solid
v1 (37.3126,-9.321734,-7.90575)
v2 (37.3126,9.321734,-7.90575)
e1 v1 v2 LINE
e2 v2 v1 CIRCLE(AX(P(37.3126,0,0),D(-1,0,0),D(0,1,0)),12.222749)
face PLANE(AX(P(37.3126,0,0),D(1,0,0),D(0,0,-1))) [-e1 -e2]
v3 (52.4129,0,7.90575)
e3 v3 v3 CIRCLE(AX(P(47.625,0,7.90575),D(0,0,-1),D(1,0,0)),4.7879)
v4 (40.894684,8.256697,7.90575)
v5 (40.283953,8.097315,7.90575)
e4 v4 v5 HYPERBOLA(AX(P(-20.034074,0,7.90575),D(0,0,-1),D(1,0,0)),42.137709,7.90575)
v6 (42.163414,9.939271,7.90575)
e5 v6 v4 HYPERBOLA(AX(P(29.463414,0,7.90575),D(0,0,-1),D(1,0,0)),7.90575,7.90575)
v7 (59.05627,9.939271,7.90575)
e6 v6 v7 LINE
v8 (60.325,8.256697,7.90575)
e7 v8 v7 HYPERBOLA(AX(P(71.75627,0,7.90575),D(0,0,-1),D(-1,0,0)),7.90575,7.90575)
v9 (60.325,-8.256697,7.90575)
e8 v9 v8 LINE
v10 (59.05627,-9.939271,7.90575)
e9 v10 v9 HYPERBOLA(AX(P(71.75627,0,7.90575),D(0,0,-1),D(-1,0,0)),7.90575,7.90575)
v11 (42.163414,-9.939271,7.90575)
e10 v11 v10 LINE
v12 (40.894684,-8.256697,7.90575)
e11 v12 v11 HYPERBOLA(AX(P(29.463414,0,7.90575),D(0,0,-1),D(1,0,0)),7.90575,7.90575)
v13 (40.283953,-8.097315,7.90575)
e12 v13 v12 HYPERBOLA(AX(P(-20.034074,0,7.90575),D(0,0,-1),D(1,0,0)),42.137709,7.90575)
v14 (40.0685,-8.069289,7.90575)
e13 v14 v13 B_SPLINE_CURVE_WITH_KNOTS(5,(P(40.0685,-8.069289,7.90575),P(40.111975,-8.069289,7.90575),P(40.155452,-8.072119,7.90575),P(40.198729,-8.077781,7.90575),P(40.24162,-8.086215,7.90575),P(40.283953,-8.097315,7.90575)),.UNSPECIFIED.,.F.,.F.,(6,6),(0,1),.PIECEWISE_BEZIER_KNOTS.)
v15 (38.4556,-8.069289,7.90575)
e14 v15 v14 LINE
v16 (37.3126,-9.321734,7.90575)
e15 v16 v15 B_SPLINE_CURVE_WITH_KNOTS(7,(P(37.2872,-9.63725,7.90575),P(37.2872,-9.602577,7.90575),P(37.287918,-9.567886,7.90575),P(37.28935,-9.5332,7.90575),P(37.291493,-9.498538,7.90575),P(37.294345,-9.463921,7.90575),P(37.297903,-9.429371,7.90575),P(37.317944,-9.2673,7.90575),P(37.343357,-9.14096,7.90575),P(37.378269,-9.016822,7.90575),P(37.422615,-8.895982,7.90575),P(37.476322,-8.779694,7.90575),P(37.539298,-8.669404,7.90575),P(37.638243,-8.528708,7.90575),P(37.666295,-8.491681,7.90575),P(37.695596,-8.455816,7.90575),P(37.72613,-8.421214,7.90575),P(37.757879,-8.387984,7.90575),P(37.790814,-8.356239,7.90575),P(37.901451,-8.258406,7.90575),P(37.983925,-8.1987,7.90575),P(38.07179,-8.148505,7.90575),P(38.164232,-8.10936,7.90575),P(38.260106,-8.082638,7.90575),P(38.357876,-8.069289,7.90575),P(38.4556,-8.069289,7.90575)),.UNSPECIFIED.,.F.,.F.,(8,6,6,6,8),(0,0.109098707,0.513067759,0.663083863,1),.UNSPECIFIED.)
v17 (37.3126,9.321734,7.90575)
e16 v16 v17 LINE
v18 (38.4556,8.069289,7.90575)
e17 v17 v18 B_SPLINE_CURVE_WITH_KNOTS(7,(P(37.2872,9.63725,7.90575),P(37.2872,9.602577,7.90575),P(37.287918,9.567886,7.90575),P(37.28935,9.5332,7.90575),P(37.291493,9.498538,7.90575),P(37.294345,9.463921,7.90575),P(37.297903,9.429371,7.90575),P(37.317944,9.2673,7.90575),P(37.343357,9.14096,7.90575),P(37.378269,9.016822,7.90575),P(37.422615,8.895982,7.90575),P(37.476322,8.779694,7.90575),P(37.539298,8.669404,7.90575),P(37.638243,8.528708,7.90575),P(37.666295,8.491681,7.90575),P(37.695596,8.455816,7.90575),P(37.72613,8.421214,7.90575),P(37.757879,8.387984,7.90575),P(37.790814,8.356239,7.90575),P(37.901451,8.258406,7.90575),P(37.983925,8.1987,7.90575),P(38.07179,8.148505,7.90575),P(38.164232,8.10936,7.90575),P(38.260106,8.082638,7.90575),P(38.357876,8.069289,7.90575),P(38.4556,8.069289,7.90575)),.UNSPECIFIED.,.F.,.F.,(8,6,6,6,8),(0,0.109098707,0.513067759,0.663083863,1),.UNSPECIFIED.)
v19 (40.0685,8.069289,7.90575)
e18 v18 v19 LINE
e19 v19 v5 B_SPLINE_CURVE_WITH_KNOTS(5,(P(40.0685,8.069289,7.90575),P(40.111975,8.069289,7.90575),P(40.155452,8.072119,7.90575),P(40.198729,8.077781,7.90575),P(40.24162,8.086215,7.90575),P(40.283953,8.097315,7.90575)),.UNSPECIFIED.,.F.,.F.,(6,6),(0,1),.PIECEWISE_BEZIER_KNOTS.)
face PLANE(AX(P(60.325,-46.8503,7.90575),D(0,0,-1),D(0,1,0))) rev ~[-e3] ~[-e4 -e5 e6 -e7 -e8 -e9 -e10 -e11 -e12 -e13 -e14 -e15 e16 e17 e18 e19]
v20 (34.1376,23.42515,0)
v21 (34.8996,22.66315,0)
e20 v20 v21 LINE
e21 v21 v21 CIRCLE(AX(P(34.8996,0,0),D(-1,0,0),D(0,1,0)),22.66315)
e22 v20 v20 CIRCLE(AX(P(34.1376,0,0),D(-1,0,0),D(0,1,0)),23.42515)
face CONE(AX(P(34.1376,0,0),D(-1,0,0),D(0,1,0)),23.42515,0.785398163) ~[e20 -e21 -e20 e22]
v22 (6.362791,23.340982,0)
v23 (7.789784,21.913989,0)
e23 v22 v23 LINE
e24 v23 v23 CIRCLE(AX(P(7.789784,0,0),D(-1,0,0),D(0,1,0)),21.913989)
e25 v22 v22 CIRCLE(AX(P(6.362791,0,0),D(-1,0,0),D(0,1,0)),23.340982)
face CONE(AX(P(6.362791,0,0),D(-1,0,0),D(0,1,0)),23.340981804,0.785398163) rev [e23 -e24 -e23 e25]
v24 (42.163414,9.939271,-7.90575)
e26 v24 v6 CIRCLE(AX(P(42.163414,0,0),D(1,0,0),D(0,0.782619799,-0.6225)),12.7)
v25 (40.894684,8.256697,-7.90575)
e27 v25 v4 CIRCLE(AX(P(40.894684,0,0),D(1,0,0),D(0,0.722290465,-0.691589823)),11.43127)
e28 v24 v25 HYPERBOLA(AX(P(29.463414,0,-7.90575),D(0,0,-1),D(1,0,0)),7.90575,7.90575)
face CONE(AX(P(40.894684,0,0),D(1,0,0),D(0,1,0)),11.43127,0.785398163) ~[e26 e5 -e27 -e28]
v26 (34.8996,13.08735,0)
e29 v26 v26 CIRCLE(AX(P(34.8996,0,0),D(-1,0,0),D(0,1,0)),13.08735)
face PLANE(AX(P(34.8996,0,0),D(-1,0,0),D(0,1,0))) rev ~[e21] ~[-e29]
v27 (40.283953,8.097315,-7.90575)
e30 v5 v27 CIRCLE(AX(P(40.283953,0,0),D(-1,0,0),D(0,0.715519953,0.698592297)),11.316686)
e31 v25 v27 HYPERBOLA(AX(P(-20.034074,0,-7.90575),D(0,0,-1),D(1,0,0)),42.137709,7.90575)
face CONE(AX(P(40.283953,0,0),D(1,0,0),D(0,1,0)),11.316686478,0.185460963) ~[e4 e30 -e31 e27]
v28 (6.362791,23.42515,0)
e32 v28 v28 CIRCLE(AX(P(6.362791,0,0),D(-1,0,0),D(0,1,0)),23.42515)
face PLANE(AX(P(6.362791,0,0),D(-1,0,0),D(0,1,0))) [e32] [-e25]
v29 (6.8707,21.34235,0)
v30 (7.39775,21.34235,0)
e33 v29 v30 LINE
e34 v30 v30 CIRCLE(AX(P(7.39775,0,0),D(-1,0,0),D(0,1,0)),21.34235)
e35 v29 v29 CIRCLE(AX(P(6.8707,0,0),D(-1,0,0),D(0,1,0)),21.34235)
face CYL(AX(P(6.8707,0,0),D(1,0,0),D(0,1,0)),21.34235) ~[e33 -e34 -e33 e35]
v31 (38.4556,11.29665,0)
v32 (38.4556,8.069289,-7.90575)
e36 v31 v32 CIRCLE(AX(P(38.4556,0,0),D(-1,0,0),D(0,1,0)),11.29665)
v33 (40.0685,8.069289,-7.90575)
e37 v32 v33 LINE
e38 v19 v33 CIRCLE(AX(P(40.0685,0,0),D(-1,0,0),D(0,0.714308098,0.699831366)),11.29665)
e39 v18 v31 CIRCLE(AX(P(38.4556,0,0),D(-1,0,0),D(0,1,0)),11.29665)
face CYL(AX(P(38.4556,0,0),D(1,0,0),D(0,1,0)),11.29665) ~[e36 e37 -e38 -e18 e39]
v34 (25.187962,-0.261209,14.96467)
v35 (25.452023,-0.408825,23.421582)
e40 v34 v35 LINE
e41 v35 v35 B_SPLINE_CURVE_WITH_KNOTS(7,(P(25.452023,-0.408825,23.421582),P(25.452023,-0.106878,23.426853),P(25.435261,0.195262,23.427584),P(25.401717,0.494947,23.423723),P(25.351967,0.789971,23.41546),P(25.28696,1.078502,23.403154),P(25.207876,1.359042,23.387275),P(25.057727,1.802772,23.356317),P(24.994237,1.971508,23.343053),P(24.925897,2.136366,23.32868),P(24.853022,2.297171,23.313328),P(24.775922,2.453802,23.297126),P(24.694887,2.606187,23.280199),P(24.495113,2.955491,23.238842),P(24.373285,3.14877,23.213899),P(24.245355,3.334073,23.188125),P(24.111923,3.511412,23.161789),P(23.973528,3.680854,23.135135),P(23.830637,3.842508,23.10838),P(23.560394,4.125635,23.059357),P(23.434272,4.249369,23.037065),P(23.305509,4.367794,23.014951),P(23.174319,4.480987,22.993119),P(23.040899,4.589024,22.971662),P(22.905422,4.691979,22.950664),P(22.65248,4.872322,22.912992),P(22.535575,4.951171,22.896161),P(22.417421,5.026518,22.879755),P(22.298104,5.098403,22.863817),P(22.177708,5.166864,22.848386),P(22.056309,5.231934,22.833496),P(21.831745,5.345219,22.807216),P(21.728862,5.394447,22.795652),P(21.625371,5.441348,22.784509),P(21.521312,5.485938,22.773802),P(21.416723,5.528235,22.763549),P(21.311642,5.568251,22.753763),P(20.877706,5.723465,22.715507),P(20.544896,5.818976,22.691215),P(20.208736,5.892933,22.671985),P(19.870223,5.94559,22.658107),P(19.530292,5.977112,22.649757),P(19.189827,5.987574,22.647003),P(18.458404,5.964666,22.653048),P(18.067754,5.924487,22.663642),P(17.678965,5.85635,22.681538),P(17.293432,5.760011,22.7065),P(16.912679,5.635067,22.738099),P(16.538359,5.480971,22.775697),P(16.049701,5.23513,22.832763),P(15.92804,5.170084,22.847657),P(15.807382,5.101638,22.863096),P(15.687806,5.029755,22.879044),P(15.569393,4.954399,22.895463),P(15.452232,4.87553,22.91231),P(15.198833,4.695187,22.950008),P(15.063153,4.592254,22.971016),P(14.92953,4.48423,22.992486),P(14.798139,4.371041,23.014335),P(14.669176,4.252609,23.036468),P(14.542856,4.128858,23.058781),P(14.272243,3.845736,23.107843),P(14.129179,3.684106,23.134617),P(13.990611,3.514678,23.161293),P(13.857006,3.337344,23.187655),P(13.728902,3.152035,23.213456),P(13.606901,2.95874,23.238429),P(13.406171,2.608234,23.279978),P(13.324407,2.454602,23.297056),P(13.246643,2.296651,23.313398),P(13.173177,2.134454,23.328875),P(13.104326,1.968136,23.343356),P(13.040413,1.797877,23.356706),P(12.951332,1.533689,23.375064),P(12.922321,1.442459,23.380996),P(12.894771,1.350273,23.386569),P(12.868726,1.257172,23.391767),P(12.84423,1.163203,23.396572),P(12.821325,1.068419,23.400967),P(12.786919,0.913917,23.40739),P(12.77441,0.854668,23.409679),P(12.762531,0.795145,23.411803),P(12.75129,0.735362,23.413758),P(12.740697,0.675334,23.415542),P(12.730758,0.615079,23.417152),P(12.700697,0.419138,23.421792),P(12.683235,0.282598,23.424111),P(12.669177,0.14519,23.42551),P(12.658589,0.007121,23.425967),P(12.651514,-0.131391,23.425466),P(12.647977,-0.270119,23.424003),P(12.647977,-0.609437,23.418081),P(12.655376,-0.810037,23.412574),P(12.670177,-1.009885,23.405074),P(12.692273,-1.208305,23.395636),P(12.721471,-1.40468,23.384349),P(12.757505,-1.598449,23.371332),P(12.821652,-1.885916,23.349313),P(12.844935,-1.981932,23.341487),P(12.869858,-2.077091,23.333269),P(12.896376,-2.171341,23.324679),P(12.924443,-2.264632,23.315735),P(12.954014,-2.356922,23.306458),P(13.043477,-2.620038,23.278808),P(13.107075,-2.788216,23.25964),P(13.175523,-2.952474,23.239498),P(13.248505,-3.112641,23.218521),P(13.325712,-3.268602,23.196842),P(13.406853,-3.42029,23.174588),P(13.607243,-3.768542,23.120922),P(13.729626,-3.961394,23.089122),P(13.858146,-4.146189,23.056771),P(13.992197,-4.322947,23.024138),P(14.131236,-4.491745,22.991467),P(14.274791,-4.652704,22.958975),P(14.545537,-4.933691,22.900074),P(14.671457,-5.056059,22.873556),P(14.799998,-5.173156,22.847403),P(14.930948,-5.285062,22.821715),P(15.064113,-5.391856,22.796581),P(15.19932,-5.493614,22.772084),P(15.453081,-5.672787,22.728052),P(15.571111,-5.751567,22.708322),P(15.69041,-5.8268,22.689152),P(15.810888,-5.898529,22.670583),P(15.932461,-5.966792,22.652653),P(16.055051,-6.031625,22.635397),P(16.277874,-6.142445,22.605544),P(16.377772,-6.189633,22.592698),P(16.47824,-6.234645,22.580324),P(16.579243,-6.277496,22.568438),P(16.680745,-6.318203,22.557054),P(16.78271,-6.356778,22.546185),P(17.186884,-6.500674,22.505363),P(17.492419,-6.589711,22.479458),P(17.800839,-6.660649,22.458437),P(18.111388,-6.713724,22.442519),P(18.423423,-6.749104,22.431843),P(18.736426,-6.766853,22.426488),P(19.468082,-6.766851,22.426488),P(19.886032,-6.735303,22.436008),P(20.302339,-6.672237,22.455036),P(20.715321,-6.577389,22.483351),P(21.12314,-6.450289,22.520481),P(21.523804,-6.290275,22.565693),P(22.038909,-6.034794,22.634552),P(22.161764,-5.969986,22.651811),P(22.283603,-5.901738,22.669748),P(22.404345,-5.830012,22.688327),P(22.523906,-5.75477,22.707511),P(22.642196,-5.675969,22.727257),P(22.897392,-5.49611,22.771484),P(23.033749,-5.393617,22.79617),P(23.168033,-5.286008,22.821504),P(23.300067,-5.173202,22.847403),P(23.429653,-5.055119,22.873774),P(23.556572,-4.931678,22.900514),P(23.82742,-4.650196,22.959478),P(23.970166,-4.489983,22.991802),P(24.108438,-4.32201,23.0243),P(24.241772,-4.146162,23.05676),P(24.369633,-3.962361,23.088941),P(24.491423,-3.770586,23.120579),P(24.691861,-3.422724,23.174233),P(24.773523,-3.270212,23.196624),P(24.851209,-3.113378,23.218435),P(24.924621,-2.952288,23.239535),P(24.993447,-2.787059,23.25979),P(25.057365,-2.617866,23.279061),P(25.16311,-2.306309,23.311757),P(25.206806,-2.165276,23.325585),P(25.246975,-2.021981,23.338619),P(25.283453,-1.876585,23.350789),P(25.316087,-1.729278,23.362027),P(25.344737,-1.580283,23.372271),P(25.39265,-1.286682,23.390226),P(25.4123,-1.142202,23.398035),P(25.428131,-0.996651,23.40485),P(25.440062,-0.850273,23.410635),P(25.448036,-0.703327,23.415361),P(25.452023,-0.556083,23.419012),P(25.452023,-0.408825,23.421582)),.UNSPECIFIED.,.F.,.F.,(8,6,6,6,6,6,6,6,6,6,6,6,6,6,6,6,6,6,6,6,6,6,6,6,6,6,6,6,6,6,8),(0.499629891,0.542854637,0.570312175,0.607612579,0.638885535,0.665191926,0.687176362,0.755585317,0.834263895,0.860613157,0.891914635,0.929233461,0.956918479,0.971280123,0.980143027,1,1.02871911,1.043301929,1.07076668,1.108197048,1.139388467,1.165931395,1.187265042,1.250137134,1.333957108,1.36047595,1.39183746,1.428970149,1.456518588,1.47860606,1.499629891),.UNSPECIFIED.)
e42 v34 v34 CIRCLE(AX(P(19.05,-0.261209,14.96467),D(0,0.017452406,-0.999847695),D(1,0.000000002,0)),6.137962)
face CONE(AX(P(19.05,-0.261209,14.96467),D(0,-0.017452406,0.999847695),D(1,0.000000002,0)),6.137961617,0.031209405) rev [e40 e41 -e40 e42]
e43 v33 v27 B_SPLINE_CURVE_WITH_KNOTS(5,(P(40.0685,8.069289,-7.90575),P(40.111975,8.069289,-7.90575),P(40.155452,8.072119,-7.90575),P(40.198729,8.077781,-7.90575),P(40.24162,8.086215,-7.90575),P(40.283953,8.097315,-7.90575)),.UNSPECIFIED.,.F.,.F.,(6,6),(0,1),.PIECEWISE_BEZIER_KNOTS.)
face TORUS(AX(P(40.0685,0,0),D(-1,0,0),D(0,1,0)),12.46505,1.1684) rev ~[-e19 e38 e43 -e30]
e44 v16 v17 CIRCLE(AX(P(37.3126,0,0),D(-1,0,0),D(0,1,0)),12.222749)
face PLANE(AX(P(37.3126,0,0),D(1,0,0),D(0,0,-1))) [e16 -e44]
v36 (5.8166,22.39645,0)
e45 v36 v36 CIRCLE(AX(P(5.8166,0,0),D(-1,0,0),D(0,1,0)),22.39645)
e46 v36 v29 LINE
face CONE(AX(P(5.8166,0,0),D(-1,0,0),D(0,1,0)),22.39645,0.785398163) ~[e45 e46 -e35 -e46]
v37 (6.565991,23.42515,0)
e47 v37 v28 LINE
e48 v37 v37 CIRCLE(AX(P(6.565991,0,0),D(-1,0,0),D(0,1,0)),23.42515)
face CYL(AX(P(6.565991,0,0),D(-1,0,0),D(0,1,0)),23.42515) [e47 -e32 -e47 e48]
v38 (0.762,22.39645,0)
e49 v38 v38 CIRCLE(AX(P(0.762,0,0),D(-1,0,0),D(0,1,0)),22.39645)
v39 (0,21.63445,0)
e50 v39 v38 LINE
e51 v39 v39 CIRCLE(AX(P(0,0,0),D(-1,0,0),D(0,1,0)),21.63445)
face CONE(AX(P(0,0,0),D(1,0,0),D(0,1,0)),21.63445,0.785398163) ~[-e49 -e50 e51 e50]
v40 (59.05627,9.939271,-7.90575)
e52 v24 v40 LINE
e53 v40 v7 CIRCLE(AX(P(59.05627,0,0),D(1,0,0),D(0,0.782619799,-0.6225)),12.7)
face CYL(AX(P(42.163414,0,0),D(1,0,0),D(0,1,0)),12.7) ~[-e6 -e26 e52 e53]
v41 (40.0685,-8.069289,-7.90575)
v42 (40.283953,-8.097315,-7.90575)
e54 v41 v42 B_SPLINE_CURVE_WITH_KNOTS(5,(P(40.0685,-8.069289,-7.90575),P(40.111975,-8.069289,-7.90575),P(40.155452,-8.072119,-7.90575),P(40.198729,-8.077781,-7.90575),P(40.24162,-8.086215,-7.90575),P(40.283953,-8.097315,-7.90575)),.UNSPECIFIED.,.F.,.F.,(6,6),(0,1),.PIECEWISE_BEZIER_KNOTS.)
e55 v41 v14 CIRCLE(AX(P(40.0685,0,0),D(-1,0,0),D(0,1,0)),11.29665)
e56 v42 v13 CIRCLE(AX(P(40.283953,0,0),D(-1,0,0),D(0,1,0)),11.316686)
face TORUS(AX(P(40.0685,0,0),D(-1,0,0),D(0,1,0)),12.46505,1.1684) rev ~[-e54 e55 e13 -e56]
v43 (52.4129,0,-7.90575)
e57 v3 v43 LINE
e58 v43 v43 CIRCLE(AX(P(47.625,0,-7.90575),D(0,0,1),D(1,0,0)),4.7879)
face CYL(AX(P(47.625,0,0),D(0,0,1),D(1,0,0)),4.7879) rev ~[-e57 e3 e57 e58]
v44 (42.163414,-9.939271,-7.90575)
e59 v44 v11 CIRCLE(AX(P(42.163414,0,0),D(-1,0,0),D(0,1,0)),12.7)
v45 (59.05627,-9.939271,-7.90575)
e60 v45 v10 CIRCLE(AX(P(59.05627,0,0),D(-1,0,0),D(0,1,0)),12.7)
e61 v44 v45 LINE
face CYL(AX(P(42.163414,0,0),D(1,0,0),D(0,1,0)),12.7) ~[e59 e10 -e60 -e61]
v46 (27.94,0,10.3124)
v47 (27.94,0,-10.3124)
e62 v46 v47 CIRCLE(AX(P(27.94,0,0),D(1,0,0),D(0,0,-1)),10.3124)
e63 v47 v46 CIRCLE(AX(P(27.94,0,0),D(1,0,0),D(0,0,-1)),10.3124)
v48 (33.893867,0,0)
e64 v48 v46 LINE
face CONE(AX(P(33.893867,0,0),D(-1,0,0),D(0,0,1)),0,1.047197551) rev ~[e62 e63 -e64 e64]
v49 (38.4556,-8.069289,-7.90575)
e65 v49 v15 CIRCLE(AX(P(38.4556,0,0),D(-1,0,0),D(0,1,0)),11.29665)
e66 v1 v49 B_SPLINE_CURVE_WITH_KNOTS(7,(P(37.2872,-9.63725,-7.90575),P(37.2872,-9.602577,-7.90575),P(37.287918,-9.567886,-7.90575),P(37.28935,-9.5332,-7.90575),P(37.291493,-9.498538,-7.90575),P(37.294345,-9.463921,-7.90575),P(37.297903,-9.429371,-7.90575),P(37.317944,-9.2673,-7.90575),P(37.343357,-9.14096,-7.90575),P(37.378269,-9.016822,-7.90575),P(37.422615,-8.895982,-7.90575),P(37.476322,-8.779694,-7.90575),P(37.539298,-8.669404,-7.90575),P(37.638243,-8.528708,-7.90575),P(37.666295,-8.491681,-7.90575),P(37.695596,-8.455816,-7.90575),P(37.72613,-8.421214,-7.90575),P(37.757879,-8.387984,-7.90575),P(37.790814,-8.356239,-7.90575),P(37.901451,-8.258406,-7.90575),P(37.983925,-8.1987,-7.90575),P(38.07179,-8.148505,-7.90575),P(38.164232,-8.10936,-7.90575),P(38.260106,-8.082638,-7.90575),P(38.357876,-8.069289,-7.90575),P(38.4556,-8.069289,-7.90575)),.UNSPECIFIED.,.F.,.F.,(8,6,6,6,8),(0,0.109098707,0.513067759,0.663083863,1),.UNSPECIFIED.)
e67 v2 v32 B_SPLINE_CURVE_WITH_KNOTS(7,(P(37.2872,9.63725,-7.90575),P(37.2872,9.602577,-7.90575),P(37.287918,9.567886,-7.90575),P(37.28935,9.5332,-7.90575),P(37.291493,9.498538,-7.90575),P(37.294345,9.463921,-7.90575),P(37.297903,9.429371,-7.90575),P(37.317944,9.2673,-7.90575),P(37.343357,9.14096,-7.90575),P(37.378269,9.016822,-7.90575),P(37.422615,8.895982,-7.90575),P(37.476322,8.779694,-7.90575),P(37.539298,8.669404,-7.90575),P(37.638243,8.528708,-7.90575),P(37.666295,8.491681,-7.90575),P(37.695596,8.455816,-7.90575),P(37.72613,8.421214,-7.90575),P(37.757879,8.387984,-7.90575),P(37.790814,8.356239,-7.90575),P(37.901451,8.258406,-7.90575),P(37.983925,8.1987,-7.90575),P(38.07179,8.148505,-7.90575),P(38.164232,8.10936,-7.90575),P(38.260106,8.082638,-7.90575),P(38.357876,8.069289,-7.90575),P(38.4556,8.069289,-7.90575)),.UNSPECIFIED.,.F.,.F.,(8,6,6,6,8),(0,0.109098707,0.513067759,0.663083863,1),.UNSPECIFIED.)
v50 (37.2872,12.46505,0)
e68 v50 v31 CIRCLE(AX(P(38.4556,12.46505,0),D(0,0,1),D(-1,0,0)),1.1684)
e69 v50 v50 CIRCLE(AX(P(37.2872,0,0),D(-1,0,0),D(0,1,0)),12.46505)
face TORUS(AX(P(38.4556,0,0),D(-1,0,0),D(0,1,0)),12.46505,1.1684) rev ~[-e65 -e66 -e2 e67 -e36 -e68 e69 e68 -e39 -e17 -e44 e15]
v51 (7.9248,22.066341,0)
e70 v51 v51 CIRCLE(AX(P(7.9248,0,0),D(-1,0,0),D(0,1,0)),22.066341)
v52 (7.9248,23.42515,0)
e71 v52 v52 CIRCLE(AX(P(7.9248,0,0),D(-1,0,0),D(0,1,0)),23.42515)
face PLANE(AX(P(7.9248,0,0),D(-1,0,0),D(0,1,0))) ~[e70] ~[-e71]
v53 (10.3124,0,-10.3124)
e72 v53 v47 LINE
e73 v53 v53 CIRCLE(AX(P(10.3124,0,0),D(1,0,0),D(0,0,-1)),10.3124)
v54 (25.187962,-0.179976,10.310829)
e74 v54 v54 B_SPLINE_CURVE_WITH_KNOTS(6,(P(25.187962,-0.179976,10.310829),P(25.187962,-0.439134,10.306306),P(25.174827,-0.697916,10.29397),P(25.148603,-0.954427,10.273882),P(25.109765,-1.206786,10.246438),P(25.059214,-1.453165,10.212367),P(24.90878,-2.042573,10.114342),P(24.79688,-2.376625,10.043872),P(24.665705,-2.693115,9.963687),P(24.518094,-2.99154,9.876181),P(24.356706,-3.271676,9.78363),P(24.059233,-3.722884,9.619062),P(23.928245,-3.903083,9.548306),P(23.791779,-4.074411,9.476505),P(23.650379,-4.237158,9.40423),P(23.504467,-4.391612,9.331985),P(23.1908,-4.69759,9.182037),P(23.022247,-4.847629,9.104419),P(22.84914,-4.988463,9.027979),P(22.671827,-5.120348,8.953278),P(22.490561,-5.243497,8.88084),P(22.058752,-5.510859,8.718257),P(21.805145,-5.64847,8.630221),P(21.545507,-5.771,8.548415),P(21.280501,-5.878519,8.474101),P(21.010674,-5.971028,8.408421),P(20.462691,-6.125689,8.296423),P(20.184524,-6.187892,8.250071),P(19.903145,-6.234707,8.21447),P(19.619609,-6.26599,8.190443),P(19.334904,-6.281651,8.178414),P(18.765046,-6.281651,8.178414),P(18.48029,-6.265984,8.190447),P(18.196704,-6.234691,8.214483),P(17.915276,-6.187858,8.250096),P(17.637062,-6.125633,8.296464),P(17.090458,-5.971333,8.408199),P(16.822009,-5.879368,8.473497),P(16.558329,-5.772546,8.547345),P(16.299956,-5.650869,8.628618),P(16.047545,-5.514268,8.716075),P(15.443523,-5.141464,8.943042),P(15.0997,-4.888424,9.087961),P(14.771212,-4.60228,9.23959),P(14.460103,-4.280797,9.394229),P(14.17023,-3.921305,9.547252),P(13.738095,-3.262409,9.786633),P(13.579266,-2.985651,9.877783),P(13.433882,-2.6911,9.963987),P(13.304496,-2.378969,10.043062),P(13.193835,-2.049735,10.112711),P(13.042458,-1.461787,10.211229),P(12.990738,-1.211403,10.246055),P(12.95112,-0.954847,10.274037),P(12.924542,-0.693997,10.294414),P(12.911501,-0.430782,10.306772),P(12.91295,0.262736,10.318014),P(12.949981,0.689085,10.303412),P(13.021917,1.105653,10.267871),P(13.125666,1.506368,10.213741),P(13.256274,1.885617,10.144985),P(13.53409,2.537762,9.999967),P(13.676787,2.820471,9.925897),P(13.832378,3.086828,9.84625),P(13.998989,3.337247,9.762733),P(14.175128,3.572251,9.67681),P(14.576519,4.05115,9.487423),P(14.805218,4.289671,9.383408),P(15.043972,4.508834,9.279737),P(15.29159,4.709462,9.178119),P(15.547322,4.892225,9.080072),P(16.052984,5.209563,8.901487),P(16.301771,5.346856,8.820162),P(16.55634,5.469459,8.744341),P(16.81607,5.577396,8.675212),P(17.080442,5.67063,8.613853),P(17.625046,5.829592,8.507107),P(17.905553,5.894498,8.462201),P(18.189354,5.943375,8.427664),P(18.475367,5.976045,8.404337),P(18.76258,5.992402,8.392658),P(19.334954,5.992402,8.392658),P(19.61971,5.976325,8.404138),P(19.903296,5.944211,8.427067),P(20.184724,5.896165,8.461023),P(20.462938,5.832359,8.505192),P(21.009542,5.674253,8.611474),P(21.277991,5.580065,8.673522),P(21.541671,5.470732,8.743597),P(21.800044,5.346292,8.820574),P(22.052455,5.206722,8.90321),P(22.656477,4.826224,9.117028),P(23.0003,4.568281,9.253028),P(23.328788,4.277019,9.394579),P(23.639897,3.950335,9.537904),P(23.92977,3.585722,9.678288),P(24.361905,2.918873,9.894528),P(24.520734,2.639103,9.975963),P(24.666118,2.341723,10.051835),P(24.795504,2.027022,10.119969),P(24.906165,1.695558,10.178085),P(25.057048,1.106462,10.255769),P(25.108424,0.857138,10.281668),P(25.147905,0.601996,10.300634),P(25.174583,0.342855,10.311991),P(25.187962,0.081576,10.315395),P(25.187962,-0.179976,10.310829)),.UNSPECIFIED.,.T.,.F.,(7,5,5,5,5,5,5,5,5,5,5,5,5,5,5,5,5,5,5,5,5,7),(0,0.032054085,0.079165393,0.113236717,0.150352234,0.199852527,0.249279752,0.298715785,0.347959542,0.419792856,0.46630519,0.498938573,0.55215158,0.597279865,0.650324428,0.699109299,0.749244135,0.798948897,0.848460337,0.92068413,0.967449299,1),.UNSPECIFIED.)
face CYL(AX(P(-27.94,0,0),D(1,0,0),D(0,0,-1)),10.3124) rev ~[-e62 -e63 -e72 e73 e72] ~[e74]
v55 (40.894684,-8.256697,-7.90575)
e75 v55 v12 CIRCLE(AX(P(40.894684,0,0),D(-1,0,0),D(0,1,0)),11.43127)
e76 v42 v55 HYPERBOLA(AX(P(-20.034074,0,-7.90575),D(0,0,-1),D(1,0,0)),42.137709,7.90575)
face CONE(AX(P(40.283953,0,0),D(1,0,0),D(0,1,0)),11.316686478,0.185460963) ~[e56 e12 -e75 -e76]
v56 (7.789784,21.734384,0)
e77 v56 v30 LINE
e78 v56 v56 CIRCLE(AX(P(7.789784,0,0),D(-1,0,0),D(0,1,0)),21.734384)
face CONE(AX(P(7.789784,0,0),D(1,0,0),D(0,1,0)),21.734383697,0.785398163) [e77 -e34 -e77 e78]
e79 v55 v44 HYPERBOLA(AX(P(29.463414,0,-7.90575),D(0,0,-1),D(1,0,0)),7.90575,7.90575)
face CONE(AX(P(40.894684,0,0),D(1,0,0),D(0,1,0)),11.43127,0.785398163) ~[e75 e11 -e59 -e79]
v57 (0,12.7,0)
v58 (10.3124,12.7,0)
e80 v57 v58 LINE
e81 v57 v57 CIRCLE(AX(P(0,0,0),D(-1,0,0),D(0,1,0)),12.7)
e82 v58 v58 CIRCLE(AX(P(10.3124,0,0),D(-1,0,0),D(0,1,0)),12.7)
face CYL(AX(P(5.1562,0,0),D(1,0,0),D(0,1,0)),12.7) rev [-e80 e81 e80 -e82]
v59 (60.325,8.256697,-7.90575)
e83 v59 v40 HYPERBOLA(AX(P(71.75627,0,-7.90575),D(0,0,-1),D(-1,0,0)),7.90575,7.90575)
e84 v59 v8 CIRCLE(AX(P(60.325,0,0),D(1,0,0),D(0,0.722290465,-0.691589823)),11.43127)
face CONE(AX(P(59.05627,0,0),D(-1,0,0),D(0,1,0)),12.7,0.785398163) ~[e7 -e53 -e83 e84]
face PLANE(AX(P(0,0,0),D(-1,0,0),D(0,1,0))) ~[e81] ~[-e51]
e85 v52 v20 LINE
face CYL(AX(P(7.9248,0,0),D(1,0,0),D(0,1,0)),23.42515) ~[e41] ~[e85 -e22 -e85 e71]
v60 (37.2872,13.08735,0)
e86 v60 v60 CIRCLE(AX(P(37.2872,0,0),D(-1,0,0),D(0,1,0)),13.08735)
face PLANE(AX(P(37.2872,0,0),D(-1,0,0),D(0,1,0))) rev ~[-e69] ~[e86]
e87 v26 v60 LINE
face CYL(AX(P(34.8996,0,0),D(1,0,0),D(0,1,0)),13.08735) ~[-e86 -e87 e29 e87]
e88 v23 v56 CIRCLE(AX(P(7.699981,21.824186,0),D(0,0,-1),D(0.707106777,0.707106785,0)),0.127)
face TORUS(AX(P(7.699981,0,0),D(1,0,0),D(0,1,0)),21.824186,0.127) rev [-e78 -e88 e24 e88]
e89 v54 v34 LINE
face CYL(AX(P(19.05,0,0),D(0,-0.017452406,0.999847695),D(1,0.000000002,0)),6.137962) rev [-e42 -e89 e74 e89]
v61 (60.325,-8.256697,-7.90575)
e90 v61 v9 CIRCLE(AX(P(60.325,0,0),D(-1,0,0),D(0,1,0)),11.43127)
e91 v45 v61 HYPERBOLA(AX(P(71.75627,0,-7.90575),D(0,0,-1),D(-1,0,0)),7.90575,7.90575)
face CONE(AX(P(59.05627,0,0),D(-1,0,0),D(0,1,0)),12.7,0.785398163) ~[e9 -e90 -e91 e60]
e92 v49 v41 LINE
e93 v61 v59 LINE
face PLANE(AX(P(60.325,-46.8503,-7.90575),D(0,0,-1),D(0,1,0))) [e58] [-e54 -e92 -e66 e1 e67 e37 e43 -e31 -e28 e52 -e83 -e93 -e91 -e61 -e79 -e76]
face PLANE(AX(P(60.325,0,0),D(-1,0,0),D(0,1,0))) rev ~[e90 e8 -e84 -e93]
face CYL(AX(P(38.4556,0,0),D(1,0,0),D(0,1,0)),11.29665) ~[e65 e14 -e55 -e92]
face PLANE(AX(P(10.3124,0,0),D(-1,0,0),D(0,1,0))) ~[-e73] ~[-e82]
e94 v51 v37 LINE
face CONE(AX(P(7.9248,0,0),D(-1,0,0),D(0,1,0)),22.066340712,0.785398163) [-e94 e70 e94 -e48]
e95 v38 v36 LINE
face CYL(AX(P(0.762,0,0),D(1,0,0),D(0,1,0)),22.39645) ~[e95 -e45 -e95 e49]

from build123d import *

# Parameters (mm, degrees)
SKETCH3_W               = 93.7006
SKETCH3_H               = 187.4012
SKETCH3_W_2             = 15.8115
SKETCH3_H_2             = 93.7006
CUT_EXTRUDE1_DEPTH      = 23.0124
HOLE1_D                 = 20.6248
HOLE1_DEPTH             = 27.94
HOLE1_TIP               = 5.953866916
SKETCH7_W               = 10.3124
SKETCH7_H               = 12.7
CUT_EXTRUDE2_DEPTH      = 11.858625
CUT_EXTRUDE2_DEPTH_BACK = 11.858625
SKETCH9_R               = 4.7879


with BuildPart() as part:
    # Sketch1 → Revolve1 (revolve)
    with BuildSketch(Plane.XY):
        Polygon((0, 0), (0, 21.63445), (0.762, 22.39645), (5.8166, 22.39645), (6.8707, 21.34235), (7.9248, 21.34235), (7.9248, 23.42515), (34.1376, 23.42515), (34.8996, 22.66315), (34.8996, 0), align=None)
    revolve(axis=Axis((34.8996, 0, 0), (-1, 0, 0)))

    # Sketch2 → Revolve2 (revolve)
    with BuildSketch(Plane.XY):
        with BuildLine():
            Line((34.8996, 0), (34.8996, 13.08735))
            Line((34.8996, 13.08735), (37.2872, 13.08735))
            Line((37.2872, 13.08735), (37.2872, 12.46505))
            ThreePointArc((37.2872, 12.46505), (37.629416437, 11.638866437), (38.4556, 11.29665))
            Line((38.4556, 11.29665), (40.0685, 11.29665))
            ThreePointArc((40.0685, 11.29665), (40.176691084, 11.301669903), (40.283952505, 11.316686478))
            Line((40.283952505, 11.316686478), (40.894683563, 11.43127))
            Line((40.894683563, 11.43127), (42.163413563, 12.7))
            Line((42.163413563, 12.7), (59.05627, 12.7))
            Line((59.05627, 12.7), (60.325, 11.43127))
            Line((60.325, 11.43127), (60.325, 0))
            Line((60.325, 0), (34.8996, 0))
        make_face()
    revolve(axis=Axis((60.325, 0, 0), (-1, 0, 0)))

    # Sketch3 → Cut-Extrude1 (cut)
    with BuildSketch(Plane(origin=(60.325, 0, 0), x_dir=(0, 0, -1), z_dir=(1, 0, 0))):
        Rectangle(SKETCH3_W, SKETCH3_H)
        Rectangle(SKETCH3_W_2, SKETCH3_H_2, mode=Mode.SUBTRACT)
    extrude(amount=-CUT_EXTRUDE1_DEPTH, mode=Mode.SUBTRACT)

    # Hole1
    with Locations(Plane.ZY):
        with Locations((0, 0)):
            Hole(HOLE1_D / 2, depth=HOLE1_DEPTH)
            with Locations((0, 0, -(HOLE1_DEPTH + HOLE1_TIP / 2))):  # 120° drill point
                Cone(0, HOLE1_D / 2, HOLE1_TIP, mode=Mode.SUBTRACT)

    # Sketch6 → Cut-Revolve1 (revolve, cut)
    with BuildSketch(Plane(origin=(0, 0, 0), x_dir=(1, 0, 0), z_dir=(0, 0.9998476951563913, 0.01745240643728403))):
        Polygon((19.05, 0), (25.187961617, 0), (25.187961617, -14.96695), (25.452022746, -23.42515), (19.05, -23.42515), align=None)
    revolve(axis=Axis((19.05, -0.408825239, 23.421582236), (0, 0.01745240643728403, -0.9998476951563913)), mode=Mode.SUBTRACT)

    # Sketch7 → Cut-Revolve2 (revolve, cut)
    with BuildSketch(Plane.XY):
        with Locations((5.1562, 6.35)):
            Rectangle(SKETCH7_W, SKETCH7_H)
    revolve(axis=Axis((10.3124, 0, 0), (-1, 0, 0)), mode=Mode.SUBTRACT)

    # Sketch8 → Revolve3 (revolve)
    with BuildSketch(Plane.XY):
        with BuildLine():
            Line((6.362790712, 23.340981804), (7.789783697, 21.913988819))
            ThreePointArc((7.789783697, 21.913988819), (7.826981136, 21.824186258), (7.789783697, 21.734383697))
            Line((7.789783697, 21.734383697), (7.39775, 21.34235))
            Line((7.39775, 21.34235), (6.8707, 21.34235))
            Line((6.8707, 21.34235), (6.8707, 21.08835))
            Line((6.8707, 21.08835), (7.9248, 21.08835))
            Line((7.9248, 21.08835), (7.9248, 22.066340712))
            Line((7.9248, 22.066340712), (6.565990712, 23.42515))
            Line((6.565990712, 23.42515), (6.362790712, 23.42515))
            Line((6.362790712, 23.42515), (6.362790712, 23.340981804))
        make_face()
    revolve(axis=Axis((7.9248, 0, 0), (-1, 0, 0)))

    # Sketch9 → Cut-Extrude2 (cut, two sides: drawn at the far end of the back side and taken through both)
    with BuildSketch(Plane.XY.offset(-CUT_EXTRUDE2_DEPTH_BACK)):
        with Locations((47.625, 0)):
            Circle(SKETCH9_R)
    extrude(amount=CUT_EXTRUDE2_DEPTH + CUT_EXTRUDE2_DEPTH_BACK, mode=Mode.SUBTRACT)


solid = part.part
